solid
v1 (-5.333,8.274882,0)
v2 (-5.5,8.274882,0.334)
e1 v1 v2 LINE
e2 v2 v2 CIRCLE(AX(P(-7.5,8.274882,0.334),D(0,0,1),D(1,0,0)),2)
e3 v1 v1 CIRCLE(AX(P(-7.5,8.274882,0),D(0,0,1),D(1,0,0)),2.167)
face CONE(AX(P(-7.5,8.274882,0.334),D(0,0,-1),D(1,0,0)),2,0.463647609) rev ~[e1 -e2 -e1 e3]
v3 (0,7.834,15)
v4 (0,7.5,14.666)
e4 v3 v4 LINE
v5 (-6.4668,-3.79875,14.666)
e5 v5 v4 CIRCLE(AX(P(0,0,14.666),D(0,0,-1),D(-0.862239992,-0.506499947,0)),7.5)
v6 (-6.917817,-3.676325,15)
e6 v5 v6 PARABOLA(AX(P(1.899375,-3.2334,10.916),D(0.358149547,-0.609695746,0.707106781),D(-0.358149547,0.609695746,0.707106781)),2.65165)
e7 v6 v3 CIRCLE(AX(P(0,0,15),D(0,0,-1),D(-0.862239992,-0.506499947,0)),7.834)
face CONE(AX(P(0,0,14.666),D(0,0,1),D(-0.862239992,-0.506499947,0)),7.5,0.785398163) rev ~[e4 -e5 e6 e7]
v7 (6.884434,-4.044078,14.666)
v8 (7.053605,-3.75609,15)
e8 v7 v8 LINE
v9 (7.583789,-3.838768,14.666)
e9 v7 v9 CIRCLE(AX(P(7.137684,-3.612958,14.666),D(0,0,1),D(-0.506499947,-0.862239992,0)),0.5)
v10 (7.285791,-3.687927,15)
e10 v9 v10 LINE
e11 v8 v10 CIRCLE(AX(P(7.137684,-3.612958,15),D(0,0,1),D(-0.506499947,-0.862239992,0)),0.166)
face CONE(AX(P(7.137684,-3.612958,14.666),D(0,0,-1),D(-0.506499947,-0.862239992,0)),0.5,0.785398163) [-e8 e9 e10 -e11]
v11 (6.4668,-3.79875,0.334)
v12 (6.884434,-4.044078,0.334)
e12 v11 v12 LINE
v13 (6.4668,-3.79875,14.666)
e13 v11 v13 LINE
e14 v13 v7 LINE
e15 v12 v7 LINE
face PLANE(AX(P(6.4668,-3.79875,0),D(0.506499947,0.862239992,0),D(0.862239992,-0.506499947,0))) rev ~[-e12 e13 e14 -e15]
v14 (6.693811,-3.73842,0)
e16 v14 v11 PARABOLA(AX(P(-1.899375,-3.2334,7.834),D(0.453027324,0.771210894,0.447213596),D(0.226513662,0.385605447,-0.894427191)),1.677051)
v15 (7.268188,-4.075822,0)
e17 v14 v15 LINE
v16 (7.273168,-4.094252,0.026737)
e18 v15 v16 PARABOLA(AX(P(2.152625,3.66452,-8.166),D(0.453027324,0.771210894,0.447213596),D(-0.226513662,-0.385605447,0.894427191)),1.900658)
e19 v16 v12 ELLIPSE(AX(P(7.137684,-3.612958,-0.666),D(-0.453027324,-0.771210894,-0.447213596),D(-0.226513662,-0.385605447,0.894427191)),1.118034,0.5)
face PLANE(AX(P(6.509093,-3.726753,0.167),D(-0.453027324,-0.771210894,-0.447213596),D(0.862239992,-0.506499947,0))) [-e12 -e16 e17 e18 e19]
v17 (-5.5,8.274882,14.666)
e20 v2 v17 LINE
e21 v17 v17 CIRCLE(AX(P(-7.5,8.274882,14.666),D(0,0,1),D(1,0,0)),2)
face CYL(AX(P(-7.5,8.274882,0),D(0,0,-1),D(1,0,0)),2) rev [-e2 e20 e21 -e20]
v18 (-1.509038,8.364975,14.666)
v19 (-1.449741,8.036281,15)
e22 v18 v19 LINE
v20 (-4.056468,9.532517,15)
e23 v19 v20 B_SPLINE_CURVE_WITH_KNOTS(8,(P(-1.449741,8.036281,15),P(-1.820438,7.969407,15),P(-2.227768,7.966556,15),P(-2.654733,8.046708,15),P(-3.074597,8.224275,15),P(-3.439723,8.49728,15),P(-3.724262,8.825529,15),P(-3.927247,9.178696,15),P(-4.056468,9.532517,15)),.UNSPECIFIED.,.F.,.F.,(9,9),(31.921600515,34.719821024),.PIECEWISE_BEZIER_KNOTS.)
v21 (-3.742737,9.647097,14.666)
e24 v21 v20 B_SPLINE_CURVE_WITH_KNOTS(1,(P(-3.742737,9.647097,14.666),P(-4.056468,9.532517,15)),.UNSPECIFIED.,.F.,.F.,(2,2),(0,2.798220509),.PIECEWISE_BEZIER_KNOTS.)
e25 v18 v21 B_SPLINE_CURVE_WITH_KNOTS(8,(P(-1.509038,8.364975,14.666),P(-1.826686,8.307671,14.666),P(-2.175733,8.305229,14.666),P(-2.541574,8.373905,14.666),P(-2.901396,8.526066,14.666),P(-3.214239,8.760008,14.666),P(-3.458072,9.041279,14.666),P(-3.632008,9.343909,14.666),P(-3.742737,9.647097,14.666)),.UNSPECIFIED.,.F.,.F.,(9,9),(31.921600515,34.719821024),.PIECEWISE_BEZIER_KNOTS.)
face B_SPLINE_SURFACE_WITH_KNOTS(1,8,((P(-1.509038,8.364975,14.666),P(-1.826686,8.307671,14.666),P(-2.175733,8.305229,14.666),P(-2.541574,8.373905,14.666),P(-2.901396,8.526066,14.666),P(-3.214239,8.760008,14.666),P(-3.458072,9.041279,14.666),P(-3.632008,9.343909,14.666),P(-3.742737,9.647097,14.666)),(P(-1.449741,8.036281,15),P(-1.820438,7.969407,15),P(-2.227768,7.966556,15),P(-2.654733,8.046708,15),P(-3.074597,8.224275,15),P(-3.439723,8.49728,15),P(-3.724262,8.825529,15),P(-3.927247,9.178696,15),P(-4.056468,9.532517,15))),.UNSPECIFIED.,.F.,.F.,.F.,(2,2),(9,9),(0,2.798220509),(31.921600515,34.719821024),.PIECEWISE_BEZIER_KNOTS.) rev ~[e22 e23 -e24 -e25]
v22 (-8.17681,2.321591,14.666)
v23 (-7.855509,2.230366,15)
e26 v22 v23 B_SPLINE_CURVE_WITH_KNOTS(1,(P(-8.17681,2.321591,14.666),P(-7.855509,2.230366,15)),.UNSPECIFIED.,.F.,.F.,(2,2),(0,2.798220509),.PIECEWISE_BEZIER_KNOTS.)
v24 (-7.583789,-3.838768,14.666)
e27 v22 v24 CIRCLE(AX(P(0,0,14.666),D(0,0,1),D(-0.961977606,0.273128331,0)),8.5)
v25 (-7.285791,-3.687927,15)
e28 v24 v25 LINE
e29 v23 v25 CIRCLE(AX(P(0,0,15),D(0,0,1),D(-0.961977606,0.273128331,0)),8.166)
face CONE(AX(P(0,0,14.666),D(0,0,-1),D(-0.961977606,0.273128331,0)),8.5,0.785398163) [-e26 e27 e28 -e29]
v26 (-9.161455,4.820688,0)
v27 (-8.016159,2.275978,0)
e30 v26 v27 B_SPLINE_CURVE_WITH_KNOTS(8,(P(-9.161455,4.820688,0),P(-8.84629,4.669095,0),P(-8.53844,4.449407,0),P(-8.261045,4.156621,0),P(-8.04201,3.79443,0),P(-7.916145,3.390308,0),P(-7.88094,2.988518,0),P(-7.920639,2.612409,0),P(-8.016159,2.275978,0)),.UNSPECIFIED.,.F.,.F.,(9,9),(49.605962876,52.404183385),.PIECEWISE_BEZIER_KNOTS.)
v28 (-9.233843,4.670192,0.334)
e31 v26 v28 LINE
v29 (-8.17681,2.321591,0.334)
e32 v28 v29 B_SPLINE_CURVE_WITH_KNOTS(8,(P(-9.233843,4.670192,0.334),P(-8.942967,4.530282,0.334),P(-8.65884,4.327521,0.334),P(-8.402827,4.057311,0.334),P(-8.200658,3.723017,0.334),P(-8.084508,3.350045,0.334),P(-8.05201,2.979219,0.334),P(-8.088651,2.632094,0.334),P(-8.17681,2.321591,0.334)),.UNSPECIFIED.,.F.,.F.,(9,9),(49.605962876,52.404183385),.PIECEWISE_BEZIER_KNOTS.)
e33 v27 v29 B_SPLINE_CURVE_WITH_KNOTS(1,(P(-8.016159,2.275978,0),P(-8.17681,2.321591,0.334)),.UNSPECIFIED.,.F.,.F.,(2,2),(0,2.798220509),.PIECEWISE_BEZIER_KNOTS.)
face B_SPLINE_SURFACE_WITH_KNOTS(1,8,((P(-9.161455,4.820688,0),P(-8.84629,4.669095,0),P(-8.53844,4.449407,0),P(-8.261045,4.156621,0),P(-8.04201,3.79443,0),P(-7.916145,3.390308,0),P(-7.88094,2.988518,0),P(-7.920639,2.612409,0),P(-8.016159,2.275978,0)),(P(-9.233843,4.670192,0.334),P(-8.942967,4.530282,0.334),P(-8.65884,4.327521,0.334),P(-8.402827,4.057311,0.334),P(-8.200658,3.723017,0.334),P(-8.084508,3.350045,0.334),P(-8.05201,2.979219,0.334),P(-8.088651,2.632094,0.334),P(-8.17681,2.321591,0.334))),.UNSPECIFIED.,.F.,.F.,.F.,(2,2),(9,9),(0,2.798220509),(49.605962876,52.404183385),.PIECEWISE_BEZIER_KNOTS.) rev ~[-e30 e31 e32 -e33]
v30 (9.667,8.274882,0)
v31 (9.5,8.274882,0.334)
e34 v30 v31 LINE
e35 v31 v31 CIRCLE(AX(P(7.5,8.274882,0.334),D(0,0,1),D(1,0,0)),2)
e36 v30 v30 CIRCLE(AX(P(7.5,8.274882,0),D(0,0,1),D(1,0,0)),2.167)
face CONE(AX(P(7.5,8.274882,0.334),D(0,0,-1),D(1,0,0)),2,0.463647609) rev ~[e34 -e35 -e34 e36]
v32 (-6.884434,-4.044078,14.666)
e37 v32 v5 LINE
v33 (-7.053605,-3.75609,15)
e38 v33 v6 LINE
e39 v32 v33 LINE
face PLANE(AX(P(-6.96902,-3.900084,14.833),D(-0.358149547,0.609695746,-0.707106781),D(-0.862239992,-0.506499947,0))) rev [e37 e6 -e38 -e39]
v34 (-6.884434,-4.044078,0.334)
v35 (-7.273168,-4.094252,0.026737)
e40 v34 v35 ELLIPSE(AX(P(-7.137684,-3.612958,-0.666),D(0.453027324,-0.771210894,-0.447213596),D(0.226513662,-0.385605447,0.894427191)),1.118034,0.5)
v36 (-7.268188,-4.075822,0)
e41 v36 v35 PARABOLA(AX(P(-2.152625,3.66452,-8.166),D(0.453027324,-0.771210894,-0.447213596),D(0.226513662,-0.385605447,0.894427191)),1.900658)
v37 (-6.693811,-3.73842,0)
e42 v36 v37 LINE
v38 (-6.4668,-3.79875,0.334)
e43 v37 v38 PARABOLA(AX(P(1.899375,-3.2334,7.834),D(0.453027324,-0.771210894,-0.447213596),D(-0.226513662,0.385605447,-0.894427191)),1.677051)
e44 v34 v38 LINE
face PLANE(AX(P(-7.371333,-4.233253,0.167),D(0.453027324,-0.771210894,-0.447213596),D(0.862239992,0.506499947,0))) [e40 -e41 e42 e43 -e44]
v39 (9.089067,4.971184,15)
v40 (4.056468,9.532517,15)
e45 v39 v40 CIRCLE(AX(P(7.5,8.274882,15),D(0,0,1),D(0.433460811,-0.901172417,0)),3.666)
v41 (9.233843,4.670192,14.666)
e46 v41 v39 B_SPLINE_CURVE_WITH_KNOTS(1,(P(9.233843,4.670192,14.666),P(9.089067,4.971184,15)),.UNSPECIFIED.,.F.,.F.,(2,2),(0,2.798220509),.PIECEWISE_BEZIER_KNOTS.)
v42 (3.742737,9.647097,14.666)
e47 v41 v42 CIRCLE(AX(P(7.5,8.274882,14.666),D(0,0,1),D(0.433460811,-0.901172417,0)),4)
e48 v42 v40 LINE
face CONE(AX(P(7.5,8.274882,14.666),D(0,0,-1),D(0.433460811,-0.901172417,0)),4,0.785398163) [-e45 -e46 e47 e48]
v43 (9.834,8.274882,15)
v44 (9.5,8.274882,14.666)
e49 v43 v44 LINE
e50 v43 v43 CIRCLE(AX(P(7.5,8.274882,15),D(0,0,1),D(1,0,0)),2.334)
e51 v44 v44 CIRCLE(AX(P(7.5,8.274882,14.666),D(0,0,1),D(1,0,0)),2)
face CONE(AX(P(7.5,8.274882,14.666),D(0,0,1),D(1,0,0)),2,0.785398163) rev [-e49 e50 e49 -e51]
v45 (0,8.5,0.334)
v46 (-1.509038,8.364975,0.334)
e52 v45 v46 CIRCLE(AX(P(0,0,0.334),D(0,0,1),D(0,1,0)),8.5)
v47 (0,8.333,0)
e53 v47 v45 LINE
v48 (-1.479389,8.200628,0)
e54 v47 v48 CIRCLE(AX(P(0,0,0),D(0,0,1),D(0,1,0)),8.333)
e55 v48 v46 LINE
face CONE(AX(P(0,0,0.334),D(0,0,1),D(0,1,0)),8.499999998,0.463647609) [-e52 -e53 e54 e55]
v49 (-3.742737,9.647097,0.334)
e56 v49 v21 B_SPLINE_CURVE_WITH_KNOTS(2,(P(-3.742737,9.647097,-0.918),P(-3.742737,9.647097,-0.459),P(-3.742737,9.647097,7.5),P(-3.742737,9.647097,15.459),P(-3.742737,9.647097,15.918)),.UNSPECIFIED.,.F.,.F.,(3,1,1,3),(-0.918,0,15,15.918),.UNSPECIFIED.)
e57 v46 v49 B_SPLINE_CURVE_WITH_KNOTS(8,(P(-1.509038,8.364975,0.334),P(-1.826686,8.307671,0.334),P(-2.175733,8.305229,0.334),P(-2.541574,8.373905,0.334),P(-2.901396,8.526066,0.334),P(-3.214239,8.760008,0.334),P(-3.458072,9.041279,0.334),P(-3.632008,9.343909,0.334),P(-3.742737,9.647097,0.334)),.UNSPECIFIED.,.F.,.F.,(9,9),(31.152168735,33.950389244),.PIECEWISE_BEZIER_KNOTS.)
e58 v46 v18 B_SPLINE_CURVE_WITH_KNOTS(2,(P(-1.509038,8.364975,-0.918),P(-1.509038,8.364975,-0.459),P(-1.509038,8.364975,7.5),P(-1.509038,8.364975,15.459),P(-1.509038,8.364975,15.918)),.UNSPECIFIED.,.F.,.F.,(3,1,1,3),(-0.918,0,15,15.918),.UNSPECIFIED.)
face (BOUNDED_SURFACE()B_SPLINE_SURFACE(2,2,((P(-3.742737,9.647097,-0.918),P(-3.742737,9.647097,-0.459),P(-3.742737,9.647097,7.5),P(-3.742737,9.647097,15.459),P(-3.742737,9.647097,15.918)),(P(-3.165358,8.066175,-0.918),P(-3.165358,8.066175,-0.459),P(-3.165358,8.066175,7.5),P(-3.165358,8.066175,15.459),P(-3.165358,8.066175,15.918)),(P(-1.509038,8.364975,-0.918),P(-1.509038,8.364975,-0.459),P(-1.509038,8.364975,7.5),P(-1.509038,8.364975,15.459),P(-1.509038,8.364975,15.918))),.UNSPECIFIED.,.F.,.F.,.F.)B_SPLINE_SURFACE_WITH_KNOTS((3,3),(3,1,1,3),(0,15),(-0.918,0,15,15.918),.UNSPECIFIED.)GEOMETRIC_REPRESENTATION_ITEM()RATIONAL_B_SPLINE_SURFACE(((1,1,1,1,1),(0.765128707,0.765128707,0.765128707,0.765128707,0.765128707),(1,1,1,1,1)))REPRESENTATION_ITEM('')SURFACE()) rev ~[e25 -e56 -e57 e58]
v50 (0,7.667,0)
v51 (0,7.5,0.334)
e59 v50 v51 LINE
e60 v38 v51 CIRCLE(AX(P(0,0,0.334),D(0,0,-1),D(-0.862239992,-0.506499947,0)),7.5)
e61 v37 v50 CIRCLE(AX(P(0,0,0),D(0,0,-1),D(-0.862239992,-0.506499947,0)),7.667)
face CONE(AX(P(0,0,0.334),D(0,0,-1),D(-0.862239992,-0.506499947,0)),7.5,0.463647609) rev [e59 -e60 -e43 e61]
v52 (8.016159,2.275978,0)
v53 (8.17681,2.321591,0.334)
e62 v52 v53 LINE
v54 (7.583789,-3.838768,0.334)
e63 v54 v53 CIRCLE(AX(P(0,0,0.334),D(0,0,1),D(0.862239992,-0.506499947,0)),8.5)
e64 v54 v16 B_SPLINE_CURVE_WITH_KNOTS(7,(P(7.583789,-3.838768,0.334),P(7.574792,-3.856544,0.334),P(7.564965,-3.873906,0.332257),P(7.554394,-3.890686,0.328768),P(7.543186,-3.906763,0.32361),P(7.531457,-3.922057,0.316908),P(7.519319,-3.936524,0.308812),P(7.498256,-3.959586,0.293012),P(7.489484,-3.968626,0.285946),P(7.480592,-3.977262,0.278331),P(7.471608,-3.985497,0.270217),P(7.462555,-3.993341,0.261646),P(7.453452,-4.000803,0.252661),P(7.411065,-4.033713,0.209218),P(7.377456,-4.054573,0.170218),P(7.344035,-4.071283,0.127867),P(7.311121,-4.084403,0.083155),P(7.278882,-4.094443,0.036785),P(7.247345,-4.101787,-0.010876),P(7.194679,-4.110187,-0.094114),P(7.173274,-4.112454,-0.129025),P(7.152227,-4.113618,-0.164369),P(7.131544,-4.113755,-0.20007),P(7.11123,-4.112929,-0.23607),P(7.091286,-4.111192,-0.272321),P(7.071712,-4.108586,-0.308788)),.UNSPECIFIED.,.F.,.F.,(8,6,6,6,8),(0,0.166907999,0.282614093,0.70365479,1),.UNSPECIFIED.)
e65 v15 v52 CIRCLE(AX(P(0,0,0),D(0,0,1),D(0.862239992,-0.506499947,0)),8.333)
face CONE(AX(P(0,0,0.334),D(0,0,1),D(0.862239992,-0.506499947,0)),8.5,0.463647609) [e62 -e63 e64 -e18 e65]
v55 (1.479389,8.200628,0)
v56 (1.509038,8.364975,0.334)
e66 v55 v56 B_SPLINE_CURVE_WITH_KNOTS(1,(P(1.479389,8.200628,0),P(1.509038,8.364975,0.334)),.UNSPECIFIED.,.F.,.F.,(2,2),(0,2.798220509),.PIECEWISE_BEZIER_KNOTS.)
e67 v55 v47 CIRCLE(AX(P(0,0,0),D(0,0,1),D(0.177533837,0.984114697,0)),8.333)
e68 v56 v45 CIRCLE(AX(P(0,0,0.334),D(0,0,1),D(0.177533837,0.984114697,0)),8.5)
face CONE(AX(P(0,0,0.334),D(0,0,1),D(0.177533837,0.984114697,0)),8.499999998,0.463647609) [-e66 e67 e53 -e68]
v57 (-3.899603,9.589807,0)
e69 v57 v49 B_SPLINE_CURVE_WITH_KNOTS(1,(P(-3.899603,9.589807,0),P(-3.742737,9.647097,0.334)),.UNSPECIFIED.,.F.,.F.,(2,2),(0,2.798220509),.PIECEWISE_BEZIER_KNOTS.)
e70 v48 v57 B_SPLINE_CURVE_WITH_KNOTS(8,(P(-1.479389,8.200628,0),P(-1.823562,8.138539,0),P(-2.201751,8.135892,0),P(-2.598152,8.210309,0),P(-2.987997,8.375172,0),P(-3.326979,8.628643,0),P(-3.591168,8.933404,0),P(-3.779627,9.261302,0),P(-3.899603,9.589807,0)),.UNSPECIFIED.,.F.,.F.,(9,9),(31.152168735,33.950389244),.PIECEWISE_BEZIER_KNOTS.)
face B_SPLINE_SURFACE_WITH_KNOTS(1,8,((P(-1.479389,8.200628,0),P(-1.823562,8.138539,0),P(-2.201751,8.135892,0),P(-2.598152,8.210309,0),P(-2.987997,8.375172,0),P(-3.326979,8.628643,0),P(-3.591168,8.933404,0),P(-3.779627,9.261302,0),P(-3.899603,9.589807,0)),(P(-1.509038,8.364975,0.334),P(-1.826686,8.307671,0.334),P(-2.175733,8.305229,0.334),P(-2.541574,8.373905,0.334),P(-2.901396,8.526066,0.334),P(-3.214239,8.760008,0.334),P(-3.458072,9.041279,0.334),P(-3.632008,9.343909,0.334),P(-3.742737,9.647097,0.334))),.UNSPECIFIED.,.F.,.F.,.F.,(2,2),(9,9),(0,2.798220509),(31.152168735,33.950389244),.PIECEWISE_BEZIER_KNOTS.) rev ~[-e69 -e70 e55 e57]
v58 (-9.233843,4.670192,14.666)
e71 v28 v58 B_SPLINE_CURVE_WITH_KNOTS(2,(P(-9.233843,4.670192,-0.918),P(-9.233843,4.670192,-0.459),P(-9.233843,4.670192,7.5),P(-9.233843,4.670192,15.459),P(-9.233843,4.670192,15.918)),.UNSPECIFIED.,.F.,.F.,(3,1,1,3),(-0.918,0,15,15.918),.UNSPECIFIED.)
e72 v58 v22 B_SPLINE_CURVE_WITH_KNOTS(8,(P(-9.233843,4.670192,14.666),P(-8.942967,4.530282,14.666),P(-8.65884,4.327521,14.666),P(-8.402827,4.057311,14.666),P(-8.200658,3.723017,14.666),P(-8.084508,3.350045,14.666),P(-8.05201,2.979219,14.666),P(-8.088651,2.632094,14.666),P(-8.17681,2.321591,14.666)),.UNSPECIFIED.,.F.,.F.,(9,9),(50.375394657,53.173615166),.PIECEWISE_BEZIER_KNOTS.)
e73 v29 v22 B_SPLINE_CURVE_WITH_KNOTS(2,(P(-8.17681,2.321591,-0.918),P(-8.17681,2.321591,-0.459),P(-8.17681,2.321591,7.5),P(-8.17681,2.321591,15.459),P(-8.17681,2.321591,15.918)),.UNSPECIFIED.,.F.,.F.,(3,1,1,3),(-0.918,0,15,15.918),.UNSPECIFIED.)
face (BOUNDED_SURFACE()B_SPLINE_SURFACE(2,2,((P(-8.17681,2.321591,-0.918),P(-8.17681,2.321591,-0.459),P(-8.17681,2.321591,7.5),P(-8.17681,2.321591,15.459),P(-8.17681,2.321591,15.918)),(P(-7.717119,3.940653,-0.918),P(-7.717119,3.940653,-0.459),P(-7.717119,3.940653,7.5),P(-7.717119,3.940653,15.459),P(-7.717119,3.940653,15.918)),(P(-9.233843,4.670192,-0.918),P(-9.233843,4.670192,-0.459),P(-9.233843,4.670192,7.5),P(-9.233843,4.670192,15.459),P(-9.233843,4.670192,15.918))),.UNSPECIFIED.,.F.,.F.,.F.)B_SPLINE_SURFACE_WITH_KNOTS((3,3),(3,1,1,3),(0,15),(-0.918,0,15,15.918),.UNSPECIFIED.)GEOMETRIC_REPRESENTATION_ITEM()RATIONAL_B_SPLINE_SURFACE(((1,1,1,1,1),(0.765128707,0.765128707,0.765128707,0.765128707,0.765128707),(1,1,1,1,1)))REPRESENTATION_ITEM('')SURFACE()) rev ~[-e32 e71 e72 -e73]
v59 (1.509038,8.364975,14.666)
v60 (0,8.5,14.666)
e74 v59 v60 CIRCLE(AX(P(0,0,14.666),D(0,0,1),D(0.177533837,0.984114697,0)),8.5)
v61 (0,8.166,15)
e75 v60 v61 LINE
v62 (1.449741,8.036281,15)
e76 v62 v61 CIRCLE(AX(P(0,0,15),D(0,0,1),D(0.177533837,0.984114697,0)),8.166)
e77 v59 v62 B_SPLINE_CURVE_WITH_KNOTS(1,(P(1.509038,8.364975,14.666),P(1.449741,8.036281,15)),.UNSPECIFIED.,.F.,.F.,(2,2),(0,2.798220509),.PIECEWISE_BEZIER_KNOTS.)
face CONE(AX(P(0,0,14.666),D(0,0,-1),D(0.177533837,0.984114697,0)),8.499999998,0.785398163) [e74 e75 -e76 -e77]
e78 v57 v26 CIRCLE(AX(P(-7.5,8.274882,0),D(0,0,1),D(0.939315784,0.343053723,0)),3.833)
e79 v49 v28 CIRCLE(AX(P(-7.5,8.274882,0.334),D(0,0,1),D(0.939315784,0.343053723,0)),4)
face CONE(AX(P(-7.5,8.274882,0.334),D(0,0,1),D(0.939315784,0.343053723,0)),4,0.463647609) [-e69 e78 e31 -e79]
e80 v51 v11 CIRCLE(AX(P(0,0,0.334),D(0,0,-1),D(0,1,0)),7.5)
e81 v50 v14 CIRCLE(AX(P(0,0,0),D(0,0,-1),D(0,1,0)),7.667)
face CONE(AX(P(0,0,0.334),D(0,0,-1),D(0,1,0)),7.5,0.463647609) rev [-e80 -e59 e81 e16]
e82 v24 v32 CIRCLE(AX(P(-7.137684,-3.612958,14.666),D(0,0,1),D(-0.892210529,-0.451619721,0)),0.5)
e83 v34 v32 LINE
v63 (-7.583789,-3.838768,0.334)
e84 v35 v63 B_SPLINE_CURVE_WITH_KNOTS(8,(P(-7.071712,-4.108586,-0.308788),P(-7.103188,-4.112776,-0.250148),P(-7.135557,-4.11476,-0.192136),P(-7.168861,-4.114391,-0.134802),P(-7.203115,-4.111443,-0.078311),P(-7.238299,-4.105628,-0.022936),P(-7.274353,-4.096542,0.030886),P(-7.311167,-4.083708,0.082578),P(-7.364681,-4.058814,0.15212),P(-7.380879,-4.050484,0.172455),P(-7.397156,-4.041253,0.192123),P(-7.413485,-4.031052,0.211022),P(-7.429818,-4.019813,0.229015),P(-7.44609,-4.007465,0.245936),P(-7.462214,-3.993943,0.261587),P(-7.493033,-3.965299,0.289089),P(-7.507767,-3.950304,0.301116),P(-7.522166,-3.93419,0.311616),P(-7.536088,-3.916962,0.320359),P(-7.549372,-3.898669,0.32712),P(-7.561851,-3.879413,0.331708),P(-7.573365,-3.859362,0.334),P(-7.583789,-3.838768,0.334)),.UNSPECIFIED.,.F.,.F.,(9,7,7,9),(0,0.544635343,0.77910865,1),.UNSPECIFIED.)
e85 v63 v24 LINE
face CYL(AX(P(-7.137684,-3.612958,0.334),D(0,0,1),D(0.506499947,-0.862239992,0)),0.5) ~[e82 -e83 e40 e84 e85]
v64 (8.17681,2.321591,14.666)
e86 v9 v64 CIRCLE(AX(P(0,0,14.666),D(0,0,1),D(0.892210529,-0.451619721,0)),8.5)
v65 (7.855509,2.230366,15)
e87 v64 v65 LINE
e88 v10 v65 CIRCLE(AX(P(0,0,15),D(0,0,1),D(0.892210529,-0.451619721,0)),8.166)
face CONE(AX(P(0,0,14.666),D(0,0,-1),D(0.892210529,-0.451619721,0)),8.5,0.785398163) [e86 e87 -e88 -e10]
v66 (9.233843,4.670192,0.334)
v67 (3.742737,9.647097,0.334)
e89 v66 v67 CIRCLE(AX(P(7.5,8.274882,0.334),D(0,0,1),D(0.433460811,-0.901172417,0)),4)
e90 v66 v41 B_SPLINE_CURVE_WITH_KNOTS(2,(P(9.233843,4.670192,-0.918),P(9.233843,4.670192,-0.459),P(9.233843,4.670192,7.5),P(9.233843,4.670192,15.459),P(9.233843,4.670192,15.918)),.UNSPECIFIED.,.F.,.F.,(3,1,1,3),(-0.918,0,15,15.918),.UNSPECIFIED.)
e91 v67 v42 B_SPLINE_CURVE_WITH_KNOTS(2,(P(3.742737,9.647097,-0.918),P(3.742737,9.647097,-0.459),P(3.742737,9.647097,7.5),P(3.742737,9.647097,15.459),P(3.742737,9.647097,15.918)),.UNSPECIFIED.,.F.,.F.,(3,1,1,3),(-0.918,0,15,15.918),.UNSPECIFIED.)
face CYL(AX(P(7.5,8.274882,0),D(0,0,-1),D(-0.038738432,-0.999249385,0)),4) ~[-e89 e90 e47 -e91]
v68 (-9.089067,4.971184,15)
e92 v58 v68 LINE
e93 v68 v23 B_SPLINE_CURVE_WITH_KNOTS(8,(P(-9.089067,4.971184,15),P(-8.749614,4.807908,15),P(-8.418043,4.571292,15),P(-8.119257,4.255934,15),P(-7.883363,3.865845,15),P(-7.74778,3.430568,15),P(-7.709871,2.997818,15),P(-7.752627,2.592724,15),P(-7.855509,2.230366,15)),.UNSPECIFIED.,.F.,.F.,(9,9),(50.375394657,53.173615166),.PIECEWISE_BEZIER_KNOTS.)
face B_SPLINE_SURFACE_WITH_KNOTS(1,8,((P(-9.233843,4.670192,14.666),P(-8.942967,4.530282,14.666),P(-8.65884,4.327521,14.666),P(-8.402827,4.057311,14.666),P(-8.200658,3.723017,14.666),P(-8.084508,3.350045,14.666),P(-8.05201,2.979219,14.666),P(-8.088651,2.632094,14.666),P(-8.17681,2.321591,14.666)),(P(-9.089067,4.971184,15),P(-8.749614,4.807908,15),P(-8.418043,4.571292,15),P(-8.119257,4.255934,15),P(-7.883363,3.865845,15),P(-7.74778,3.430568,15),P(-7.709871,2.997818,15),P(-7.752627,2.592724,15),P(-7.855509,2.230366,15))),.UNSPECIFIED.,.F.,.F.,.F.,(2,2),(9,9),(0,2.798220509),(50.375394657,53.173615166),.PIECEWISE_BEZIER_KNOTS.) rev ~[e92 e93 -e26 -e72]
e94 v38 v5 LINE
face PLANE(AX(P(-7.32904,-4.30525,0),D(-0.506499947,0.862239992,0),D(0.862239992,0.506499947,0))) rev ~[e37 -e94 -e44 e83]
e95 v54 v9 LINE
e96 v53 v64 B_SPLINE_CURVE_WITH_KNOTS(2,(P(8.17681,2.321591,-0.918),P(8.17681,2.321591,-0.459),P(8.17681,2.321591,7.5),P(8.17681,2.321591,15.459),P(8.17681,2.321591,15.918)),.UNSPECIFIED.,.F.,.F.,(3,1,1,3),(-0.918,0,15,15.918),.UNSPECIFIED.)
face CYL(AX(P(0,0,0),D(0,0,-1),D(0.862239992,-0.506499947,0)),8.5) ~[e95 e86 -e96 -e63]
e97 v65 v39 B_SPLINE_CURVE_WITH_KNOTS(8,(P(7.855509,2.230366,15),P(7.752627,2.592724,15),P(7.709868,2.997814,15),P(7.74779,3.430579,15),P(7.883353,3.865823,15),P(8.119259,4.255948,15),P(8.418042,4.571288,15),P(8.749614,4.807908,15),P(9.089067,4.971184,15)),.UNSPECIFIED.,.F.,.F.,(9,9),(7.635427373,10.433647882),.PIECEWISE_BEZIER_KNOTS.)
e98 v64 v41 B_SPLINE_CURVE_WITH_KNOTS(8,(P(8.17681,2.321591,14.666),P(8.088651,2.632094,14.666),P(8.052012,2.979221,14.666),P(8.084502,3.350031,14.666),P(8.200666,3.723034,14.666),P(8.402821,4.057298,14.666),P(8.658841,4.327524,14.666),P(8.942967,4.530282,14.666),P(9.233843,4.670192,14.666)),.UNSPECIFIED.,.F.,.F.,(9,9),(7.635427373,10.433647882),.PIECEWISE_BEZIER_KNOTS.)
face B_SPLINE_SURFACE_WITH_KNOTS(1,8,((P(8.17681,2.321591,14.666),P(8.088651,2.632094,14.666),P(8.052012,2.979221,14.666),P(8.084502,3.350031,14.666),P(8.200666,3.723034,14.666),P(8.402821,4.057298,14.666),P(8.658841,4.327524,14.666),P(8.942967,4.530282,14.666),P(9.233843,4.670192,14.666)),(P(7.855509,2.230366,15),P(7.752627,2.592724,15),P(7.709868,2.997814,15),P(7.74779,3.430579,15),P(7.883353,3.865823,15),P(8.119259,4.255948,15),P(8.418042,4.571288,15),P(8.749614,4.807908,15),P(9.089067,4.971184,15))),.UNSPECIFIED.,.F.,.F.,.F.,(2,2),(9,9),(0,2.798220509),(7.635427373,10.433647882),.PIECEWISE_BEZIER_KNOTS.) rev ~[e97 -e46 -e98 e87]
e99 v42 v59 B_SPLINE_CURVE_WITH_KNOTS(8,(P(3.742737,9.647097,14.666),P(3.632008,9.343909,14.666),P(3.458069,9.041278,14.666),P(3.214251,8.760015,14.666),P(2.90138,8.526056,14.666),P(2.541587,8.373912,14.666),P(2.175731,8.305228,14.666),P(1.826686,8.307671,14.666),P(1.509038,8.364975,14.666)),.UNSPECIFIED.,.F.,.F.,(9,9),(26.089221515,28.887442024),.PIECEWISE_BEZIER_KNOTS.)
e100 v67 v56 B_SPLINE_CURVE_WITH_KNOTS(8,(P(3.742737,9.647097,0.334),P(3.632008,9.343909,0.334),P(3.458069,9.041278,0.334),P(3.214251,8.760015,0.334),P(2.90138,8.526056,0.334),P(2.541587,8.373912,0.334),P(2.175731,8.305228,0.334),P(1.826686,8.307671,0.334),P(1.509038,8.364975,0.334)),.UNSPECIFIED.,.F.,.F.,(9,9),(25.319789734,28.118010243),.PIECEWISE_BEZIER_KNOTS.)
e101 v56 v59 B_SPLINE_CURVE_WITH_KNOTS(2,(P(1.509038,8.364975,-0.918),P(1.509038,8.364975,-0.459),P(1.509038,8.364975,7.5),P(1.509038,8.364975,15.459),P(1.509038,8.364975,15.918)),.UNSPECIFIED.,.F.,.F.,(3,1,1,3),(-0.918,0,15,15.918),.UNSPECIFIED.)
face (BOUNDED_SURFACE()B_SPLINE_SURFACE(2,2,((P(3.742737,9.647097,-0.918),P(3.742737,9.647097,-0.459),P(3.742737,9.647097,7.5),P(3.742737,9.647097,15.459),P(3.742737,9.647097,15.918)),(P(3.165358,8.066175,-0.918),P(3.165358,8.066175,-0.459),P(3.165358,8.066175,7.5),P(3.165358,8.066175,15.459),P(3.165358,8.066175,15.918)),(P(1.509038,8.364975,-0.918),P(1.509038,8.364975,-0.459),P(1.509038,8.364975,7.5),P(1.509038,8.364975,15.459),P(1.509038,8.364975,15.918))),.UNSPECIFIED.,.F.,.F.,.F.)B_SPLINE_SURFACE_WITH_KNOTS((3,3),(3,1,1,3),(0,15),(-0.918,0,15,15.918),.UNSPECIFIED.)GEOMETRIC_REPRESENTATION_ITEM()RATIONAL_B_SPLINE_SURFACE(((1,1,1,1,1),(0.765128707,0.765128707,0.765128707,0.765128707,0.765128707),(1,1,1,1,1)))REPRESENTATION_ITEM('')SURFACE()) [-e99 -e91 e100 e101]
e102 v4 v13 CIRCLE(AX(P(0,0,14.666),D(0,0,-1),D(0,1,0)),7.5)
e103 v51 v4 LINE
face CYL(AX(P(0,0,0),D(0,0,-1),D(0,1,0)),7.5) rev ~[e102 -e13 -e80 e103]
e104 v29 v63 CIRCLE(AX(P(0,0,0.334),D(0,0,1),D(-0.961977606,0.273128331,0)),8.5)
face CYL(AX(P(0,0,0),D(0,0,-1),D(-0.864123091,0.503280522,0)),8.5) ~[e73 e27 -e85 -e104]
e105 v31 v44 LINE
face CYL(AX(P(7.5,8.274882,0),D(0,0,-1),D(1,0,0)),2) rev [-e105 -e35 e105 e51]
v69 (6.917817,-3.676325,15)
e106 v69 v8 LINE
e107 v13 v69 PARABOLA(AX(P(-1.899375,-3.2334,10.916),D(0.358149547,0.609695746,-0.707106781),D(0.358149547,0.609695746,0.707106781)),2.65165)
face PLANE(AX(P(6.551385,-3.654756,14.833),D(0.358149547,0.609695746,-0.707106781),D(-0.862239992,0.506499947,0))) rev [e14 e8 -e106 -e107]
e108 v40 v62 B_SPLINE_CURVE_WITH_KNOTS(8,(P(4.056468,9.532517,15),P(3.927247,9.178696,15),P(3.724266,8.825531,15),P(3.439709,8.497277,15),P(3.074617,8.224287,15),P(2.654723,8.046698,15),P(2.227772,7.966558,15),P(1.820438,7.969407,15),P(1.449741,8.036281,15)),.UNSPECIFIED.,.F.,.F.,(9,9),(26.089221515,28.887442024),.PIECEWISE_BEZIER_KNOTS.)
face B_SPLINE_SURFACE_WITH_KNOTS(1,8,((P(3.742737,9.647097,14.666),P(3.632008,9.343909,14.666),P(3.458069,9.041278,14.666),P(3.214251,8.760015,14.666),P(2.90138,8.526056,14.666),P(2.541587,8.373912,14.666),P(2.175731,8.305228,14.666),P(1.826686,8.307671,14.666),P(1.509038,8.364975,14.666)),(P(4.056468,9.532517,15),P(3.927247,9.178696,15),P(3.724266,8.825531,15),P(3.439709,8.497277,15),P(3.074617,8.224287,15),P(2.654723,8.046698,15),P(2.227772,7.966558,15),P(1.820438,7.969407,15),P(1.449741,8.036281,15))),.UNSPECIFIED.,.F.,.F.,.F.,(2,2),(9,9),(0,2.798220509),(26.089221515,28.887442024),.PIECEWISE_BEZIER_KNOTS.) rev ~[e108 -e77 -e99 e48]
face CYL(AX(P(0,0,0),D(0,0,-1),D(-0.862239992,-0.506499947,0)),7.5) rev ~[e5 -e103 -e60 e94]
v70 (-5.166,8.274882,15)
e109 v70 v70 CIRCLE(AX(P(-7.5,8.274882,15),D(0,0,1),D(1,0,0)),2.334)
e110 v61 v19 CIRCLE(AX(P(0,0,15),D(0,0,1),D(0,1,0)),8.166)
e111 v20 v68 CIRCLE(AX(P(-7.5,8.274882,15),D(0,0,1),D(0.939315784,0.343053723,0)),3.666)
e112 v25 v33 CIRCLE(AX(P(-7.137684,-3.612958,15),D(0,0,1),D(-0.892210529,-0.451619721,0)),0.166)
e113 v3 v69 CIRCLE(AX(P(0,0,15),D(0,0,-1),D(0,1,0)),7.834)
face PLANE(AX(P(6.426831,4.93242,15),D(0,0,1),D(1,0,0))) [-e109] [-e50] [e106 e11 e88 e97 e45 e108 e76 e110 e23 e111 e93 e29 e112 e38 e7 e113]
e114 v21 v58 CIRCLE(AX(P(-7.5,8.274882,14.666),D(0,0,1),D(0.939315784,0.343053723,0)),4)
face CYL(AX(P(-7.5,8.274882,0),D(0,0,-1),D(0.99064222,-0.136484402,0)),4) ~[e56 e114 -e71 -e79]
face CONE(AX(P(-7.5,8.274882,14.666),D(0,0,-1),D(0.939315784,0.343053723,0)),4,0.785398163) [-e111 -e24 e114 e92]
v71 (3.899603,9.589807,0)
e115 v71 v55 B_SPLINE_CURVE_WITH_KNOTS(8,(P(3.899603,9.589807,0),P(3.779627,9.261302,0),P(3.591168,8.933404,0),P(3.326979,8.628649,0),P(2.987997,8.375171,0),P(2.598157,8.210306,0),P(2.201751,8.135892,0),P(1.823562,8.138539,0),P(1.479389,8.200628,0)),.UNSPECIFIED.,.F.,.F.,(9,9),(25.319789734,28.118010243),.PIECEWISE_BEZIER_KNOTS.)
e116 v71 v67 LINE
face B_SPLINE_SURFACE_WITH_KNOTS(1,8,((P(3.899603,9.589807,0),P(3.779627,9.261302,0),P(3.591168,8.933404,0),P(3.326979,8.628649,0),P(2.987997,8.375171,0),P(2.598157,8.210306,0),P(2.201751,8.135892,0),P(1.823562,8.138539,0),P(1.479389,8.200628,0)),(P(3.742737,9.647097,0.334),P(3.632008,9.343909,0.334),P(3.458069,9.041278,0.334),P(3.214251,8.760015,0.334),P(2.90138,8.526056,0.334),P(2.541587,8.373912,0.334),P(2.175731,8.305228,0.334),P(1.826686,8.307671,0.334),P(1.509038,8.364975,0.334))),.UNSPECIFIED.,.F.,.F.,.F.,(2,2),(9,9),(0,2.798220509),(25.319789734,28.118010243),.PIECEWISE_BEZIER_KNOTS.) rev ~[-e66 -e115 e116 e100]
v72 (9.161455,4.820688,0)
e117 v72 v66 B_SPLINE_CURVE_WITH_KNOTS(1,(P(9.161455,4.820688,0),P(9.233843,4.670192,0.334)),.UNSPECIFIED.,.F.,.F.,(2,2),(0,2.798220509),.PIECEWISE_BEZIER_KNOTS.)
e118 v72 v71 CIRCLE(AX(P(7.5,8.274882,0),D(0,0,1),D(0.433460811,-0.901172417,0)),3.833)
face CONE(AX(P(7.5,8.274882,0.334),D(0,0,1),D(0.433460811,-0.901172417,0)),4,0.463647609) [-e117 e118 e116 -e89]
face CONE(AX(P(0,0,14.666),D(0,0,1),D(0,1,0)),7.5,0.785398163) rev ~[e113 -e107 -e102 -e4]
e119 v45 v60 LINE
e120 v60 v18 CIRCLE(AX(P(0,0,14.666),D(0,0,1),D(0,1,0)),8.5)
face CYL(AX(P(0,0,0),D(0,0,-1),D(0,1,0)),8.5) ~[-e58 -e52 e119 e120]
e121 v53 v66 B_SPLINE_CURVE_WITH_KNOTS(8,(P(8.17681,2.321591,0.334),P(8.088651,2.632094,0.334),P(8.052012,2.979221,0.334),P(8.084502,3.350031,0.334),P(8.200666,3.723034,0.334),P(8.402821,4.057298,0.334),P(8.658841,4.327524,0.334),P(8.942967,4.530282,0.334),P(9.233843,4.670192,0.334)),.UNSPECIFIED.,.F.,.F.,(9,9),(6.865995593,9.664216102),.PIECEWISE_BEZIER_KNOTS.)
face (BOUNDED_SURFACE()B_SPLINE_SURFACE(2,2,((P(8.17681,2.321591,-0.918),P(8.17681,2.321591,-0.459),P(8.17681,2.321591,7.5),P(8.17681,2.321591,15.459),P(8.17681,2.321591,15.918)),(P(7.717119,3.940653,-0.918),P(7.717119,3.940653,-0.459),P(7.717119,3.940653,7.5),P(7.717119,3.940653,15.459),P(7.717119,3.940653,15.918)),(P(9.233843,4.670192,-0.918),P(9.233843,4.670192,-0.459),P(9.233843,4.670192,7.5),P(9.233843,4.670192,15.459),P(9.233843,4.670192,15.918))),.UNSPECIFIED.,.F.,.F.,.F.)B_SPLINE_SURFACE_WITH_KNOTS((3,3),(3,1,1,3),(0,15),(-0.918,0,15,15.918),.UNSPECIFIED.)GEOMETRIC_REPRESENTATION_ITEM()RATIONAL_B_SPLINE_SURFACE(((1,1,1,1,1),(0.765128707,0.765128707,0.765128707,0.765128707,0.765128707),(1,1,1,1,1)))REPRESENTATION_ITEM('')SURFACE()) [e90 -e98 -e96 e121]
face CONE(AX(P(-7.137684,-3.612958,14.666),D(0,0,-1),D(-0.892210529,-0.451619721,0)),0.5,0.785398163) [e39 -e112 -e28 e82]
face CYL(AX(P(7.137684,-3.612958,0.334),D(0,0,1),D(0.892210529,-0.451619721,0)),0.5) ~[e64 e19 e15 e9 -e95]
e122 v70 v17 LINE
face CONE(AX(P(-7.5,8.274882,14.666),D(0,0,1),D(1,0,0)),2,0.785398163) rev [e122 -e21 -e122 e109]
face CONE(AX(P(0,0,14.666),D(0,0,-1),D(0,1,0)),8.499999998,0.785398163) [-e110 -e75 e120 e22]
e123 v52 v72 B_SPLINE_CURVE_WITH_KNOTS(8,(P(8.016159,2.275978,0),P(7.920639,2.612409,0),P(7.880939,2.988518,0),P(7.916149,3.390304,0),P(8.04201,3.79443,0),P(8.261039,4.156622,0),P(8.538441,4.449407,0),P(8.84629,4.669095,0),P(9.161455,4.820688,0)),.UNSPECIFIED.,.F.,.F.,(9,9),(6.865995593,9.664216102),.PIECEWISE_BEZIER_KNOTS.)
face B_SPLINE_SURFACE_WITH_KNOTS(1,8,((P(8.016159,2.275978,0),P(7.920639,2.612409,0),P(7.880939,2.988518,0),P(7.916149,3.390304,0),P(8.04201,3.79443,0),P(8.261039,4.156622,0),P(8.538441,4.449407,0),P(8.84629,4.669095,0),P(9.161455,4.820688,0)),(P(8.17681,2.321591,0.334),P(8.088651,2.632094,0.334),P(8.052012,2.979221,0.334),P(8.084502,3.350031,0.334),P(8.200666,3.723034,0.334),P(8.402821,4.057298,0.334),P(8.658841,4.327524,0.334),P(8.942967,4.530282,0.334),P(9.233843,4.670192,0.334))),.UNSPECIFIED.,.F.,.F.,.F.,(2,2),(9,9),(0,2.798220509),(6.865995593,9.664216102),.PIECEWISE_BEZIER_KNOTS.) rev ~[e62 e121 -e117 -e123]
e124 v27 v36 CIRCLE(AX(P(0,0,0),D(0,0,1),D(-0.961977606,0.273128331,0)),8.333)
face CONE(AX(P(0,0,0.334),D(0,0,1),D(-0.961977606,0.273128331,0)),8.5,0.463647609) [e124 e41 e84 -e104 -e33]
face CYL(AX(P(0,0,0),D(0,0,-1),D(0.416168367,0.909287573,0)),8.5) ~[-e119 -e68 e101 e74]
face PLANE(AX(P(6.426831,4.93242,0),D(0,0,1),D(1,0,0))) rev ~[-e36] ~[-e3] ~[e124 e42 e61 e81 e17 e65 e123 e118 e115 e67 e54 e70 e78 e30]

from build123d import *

# Parameters (mm, degrees)
F0_R     = 2
F1_DEPTH = 15
F2_R     = 2
F3_SIZE2 = 0.334
F3_SIZE  = 0.167
F4_R     = 0.5
F5_SIZE  = 0.334


with BuildPart() as f1:
    # F0 (on Top) → F1 (new body)
    with BuildSketch(Plane.XY):
        with BuildLine():
            ThreePointArc((0, 7.5), (6.509248113, 3.7255454638), (6.4667999415, -3.7987495992))
            Line((6.4667999415, -3.7987495992), (7.3290399337, -4.3052495457))
            ThreePointArc((7.3290399337, -4.3052495457), (8.4999852198, -0.0158512782), (7.3450462726, 4.2778844366))
            ThreePointArc((7.3450462726, 4.2778844366), (10.1862523655, 11.2386714824), (3.53743112, 7.7289443698))
            ThreePointArc((3.53743112, 7.7289443698), (1.8102448532, 8.304999312), (0, 8.5))
            Line((0, 8.5), (0, 7.5))
        make_face()
        with Locations((7.5, 8.2748819776)):
            Circle(F0_R, mode=Mode.SUBTRACT)
        with BuildLine():
            ThreePointArc((-6.4667999415, -3.7987495992), (-6.509248113, 3.7255454638), (0, 7.5))
            Line((0, 7.5), (0, 8.5))
            ThreePointArc((0, 8.5), (-1.8102448532, 8.304999312), (-3.53743112, 7.7289443698))
            ThreePointArc((-3.53743112, 7.7289443698), (-10.1862523655, 11.2386714824), (-7.3450462726, 4.2778844366))
            ThreePointArc((-7.3450462726, 4.2778844366), (-8.4999852198, -0.0158512782), (-7.3290399337, -4.3052495457))
            Line((-7.3290399337, -4.3052495457), (-6.4667999415, -3.7987495992))
        make_face()
        with Locations((-7.5, 8.2748819776)):
            Circle(F0_R, mode=Mode.SUBTRACT)
    extrude(amount=F1_DEPTH)

    # F2
    f2_edges = [f1.edges().sort_by_distance(p)[0] for p in [
        (7.345046, 4.277884, 7.5),
        (3.537431, 7.728944, 7.5),
        (-3.537431, 7.728944, 7.5),
        (-7.345046, 4.277884, 7.5),
    ]]
    fillet(f2_edges, radius=F2_R)

    # F3
    f3_edges = [f1.edges().sort_by_distance(p)[0] for p in [
        (8.431287, -1.078612, 0),
        (8.276969, 3.688682, 0),
        (6.89792, -4.052, 0),
        (10.186252, 11.238671, 0),
        (0, 7.5, 0),
        (2.859731, 8.598635, 0),
        (-6.89792, -4.052, 0),
        (0, 8.5, 0),
        (-8.431287, -1.078612, 0),
        (-2.859731, 8.598635, 0),
        (-8.276969, 3.688682, 0),
        (-10.186252, 11.238671, 0),
        (5.5, 8.274882, 0),
        (-9.5, 8.274882, 0),
    ]]
    f3_side = f1.faces().sort_by_distance((8.150047, -1.042633, 0))[0]
    chamfer(f3_edges, length=F3_SIZE, length2=F3_SIZE2, reference=f3_side)

    # F4
    f4_edges = [f1.edges().sort_by_distance(p)[0] for p in [
        (-7.32904, -4.30525, 7.667),
        (7.32904, -4.30525, 7.667),
    ]]
    fillet(f4_edges, radius=F4_R)

    # F5
    f5_edges = [f1.edges().sort_by_distance(p)[0] for p in [
        (8.460888, -0.814478, 15),
        (7.278526, -4.092712, 15),
        (8.276969, 3.688682, 15),
        (6.675617, -3.921414, 15),
        (10.186252, 11.238671, 15),
        (0, 7.5, 15),
        (2.859731, 8.598635, 15),
        (-6.675617, -3.921414, 15),
        (0, 8.5, 15),
        (-7.278526, -4.092712, 15),
        (-2.859731, 8.598635, 15),
        (-8.460888, -0.814478, 15),
        (-10.186252, 11.238671, 15),
        (-8.276969, 3.688682, 15),
        (5.5, 8.274882, 15),
        (-9.5, 8.274882, 15),
    ]]
    chamfer(f5_edges, length=F5_SIZE)


solid = f1.part
